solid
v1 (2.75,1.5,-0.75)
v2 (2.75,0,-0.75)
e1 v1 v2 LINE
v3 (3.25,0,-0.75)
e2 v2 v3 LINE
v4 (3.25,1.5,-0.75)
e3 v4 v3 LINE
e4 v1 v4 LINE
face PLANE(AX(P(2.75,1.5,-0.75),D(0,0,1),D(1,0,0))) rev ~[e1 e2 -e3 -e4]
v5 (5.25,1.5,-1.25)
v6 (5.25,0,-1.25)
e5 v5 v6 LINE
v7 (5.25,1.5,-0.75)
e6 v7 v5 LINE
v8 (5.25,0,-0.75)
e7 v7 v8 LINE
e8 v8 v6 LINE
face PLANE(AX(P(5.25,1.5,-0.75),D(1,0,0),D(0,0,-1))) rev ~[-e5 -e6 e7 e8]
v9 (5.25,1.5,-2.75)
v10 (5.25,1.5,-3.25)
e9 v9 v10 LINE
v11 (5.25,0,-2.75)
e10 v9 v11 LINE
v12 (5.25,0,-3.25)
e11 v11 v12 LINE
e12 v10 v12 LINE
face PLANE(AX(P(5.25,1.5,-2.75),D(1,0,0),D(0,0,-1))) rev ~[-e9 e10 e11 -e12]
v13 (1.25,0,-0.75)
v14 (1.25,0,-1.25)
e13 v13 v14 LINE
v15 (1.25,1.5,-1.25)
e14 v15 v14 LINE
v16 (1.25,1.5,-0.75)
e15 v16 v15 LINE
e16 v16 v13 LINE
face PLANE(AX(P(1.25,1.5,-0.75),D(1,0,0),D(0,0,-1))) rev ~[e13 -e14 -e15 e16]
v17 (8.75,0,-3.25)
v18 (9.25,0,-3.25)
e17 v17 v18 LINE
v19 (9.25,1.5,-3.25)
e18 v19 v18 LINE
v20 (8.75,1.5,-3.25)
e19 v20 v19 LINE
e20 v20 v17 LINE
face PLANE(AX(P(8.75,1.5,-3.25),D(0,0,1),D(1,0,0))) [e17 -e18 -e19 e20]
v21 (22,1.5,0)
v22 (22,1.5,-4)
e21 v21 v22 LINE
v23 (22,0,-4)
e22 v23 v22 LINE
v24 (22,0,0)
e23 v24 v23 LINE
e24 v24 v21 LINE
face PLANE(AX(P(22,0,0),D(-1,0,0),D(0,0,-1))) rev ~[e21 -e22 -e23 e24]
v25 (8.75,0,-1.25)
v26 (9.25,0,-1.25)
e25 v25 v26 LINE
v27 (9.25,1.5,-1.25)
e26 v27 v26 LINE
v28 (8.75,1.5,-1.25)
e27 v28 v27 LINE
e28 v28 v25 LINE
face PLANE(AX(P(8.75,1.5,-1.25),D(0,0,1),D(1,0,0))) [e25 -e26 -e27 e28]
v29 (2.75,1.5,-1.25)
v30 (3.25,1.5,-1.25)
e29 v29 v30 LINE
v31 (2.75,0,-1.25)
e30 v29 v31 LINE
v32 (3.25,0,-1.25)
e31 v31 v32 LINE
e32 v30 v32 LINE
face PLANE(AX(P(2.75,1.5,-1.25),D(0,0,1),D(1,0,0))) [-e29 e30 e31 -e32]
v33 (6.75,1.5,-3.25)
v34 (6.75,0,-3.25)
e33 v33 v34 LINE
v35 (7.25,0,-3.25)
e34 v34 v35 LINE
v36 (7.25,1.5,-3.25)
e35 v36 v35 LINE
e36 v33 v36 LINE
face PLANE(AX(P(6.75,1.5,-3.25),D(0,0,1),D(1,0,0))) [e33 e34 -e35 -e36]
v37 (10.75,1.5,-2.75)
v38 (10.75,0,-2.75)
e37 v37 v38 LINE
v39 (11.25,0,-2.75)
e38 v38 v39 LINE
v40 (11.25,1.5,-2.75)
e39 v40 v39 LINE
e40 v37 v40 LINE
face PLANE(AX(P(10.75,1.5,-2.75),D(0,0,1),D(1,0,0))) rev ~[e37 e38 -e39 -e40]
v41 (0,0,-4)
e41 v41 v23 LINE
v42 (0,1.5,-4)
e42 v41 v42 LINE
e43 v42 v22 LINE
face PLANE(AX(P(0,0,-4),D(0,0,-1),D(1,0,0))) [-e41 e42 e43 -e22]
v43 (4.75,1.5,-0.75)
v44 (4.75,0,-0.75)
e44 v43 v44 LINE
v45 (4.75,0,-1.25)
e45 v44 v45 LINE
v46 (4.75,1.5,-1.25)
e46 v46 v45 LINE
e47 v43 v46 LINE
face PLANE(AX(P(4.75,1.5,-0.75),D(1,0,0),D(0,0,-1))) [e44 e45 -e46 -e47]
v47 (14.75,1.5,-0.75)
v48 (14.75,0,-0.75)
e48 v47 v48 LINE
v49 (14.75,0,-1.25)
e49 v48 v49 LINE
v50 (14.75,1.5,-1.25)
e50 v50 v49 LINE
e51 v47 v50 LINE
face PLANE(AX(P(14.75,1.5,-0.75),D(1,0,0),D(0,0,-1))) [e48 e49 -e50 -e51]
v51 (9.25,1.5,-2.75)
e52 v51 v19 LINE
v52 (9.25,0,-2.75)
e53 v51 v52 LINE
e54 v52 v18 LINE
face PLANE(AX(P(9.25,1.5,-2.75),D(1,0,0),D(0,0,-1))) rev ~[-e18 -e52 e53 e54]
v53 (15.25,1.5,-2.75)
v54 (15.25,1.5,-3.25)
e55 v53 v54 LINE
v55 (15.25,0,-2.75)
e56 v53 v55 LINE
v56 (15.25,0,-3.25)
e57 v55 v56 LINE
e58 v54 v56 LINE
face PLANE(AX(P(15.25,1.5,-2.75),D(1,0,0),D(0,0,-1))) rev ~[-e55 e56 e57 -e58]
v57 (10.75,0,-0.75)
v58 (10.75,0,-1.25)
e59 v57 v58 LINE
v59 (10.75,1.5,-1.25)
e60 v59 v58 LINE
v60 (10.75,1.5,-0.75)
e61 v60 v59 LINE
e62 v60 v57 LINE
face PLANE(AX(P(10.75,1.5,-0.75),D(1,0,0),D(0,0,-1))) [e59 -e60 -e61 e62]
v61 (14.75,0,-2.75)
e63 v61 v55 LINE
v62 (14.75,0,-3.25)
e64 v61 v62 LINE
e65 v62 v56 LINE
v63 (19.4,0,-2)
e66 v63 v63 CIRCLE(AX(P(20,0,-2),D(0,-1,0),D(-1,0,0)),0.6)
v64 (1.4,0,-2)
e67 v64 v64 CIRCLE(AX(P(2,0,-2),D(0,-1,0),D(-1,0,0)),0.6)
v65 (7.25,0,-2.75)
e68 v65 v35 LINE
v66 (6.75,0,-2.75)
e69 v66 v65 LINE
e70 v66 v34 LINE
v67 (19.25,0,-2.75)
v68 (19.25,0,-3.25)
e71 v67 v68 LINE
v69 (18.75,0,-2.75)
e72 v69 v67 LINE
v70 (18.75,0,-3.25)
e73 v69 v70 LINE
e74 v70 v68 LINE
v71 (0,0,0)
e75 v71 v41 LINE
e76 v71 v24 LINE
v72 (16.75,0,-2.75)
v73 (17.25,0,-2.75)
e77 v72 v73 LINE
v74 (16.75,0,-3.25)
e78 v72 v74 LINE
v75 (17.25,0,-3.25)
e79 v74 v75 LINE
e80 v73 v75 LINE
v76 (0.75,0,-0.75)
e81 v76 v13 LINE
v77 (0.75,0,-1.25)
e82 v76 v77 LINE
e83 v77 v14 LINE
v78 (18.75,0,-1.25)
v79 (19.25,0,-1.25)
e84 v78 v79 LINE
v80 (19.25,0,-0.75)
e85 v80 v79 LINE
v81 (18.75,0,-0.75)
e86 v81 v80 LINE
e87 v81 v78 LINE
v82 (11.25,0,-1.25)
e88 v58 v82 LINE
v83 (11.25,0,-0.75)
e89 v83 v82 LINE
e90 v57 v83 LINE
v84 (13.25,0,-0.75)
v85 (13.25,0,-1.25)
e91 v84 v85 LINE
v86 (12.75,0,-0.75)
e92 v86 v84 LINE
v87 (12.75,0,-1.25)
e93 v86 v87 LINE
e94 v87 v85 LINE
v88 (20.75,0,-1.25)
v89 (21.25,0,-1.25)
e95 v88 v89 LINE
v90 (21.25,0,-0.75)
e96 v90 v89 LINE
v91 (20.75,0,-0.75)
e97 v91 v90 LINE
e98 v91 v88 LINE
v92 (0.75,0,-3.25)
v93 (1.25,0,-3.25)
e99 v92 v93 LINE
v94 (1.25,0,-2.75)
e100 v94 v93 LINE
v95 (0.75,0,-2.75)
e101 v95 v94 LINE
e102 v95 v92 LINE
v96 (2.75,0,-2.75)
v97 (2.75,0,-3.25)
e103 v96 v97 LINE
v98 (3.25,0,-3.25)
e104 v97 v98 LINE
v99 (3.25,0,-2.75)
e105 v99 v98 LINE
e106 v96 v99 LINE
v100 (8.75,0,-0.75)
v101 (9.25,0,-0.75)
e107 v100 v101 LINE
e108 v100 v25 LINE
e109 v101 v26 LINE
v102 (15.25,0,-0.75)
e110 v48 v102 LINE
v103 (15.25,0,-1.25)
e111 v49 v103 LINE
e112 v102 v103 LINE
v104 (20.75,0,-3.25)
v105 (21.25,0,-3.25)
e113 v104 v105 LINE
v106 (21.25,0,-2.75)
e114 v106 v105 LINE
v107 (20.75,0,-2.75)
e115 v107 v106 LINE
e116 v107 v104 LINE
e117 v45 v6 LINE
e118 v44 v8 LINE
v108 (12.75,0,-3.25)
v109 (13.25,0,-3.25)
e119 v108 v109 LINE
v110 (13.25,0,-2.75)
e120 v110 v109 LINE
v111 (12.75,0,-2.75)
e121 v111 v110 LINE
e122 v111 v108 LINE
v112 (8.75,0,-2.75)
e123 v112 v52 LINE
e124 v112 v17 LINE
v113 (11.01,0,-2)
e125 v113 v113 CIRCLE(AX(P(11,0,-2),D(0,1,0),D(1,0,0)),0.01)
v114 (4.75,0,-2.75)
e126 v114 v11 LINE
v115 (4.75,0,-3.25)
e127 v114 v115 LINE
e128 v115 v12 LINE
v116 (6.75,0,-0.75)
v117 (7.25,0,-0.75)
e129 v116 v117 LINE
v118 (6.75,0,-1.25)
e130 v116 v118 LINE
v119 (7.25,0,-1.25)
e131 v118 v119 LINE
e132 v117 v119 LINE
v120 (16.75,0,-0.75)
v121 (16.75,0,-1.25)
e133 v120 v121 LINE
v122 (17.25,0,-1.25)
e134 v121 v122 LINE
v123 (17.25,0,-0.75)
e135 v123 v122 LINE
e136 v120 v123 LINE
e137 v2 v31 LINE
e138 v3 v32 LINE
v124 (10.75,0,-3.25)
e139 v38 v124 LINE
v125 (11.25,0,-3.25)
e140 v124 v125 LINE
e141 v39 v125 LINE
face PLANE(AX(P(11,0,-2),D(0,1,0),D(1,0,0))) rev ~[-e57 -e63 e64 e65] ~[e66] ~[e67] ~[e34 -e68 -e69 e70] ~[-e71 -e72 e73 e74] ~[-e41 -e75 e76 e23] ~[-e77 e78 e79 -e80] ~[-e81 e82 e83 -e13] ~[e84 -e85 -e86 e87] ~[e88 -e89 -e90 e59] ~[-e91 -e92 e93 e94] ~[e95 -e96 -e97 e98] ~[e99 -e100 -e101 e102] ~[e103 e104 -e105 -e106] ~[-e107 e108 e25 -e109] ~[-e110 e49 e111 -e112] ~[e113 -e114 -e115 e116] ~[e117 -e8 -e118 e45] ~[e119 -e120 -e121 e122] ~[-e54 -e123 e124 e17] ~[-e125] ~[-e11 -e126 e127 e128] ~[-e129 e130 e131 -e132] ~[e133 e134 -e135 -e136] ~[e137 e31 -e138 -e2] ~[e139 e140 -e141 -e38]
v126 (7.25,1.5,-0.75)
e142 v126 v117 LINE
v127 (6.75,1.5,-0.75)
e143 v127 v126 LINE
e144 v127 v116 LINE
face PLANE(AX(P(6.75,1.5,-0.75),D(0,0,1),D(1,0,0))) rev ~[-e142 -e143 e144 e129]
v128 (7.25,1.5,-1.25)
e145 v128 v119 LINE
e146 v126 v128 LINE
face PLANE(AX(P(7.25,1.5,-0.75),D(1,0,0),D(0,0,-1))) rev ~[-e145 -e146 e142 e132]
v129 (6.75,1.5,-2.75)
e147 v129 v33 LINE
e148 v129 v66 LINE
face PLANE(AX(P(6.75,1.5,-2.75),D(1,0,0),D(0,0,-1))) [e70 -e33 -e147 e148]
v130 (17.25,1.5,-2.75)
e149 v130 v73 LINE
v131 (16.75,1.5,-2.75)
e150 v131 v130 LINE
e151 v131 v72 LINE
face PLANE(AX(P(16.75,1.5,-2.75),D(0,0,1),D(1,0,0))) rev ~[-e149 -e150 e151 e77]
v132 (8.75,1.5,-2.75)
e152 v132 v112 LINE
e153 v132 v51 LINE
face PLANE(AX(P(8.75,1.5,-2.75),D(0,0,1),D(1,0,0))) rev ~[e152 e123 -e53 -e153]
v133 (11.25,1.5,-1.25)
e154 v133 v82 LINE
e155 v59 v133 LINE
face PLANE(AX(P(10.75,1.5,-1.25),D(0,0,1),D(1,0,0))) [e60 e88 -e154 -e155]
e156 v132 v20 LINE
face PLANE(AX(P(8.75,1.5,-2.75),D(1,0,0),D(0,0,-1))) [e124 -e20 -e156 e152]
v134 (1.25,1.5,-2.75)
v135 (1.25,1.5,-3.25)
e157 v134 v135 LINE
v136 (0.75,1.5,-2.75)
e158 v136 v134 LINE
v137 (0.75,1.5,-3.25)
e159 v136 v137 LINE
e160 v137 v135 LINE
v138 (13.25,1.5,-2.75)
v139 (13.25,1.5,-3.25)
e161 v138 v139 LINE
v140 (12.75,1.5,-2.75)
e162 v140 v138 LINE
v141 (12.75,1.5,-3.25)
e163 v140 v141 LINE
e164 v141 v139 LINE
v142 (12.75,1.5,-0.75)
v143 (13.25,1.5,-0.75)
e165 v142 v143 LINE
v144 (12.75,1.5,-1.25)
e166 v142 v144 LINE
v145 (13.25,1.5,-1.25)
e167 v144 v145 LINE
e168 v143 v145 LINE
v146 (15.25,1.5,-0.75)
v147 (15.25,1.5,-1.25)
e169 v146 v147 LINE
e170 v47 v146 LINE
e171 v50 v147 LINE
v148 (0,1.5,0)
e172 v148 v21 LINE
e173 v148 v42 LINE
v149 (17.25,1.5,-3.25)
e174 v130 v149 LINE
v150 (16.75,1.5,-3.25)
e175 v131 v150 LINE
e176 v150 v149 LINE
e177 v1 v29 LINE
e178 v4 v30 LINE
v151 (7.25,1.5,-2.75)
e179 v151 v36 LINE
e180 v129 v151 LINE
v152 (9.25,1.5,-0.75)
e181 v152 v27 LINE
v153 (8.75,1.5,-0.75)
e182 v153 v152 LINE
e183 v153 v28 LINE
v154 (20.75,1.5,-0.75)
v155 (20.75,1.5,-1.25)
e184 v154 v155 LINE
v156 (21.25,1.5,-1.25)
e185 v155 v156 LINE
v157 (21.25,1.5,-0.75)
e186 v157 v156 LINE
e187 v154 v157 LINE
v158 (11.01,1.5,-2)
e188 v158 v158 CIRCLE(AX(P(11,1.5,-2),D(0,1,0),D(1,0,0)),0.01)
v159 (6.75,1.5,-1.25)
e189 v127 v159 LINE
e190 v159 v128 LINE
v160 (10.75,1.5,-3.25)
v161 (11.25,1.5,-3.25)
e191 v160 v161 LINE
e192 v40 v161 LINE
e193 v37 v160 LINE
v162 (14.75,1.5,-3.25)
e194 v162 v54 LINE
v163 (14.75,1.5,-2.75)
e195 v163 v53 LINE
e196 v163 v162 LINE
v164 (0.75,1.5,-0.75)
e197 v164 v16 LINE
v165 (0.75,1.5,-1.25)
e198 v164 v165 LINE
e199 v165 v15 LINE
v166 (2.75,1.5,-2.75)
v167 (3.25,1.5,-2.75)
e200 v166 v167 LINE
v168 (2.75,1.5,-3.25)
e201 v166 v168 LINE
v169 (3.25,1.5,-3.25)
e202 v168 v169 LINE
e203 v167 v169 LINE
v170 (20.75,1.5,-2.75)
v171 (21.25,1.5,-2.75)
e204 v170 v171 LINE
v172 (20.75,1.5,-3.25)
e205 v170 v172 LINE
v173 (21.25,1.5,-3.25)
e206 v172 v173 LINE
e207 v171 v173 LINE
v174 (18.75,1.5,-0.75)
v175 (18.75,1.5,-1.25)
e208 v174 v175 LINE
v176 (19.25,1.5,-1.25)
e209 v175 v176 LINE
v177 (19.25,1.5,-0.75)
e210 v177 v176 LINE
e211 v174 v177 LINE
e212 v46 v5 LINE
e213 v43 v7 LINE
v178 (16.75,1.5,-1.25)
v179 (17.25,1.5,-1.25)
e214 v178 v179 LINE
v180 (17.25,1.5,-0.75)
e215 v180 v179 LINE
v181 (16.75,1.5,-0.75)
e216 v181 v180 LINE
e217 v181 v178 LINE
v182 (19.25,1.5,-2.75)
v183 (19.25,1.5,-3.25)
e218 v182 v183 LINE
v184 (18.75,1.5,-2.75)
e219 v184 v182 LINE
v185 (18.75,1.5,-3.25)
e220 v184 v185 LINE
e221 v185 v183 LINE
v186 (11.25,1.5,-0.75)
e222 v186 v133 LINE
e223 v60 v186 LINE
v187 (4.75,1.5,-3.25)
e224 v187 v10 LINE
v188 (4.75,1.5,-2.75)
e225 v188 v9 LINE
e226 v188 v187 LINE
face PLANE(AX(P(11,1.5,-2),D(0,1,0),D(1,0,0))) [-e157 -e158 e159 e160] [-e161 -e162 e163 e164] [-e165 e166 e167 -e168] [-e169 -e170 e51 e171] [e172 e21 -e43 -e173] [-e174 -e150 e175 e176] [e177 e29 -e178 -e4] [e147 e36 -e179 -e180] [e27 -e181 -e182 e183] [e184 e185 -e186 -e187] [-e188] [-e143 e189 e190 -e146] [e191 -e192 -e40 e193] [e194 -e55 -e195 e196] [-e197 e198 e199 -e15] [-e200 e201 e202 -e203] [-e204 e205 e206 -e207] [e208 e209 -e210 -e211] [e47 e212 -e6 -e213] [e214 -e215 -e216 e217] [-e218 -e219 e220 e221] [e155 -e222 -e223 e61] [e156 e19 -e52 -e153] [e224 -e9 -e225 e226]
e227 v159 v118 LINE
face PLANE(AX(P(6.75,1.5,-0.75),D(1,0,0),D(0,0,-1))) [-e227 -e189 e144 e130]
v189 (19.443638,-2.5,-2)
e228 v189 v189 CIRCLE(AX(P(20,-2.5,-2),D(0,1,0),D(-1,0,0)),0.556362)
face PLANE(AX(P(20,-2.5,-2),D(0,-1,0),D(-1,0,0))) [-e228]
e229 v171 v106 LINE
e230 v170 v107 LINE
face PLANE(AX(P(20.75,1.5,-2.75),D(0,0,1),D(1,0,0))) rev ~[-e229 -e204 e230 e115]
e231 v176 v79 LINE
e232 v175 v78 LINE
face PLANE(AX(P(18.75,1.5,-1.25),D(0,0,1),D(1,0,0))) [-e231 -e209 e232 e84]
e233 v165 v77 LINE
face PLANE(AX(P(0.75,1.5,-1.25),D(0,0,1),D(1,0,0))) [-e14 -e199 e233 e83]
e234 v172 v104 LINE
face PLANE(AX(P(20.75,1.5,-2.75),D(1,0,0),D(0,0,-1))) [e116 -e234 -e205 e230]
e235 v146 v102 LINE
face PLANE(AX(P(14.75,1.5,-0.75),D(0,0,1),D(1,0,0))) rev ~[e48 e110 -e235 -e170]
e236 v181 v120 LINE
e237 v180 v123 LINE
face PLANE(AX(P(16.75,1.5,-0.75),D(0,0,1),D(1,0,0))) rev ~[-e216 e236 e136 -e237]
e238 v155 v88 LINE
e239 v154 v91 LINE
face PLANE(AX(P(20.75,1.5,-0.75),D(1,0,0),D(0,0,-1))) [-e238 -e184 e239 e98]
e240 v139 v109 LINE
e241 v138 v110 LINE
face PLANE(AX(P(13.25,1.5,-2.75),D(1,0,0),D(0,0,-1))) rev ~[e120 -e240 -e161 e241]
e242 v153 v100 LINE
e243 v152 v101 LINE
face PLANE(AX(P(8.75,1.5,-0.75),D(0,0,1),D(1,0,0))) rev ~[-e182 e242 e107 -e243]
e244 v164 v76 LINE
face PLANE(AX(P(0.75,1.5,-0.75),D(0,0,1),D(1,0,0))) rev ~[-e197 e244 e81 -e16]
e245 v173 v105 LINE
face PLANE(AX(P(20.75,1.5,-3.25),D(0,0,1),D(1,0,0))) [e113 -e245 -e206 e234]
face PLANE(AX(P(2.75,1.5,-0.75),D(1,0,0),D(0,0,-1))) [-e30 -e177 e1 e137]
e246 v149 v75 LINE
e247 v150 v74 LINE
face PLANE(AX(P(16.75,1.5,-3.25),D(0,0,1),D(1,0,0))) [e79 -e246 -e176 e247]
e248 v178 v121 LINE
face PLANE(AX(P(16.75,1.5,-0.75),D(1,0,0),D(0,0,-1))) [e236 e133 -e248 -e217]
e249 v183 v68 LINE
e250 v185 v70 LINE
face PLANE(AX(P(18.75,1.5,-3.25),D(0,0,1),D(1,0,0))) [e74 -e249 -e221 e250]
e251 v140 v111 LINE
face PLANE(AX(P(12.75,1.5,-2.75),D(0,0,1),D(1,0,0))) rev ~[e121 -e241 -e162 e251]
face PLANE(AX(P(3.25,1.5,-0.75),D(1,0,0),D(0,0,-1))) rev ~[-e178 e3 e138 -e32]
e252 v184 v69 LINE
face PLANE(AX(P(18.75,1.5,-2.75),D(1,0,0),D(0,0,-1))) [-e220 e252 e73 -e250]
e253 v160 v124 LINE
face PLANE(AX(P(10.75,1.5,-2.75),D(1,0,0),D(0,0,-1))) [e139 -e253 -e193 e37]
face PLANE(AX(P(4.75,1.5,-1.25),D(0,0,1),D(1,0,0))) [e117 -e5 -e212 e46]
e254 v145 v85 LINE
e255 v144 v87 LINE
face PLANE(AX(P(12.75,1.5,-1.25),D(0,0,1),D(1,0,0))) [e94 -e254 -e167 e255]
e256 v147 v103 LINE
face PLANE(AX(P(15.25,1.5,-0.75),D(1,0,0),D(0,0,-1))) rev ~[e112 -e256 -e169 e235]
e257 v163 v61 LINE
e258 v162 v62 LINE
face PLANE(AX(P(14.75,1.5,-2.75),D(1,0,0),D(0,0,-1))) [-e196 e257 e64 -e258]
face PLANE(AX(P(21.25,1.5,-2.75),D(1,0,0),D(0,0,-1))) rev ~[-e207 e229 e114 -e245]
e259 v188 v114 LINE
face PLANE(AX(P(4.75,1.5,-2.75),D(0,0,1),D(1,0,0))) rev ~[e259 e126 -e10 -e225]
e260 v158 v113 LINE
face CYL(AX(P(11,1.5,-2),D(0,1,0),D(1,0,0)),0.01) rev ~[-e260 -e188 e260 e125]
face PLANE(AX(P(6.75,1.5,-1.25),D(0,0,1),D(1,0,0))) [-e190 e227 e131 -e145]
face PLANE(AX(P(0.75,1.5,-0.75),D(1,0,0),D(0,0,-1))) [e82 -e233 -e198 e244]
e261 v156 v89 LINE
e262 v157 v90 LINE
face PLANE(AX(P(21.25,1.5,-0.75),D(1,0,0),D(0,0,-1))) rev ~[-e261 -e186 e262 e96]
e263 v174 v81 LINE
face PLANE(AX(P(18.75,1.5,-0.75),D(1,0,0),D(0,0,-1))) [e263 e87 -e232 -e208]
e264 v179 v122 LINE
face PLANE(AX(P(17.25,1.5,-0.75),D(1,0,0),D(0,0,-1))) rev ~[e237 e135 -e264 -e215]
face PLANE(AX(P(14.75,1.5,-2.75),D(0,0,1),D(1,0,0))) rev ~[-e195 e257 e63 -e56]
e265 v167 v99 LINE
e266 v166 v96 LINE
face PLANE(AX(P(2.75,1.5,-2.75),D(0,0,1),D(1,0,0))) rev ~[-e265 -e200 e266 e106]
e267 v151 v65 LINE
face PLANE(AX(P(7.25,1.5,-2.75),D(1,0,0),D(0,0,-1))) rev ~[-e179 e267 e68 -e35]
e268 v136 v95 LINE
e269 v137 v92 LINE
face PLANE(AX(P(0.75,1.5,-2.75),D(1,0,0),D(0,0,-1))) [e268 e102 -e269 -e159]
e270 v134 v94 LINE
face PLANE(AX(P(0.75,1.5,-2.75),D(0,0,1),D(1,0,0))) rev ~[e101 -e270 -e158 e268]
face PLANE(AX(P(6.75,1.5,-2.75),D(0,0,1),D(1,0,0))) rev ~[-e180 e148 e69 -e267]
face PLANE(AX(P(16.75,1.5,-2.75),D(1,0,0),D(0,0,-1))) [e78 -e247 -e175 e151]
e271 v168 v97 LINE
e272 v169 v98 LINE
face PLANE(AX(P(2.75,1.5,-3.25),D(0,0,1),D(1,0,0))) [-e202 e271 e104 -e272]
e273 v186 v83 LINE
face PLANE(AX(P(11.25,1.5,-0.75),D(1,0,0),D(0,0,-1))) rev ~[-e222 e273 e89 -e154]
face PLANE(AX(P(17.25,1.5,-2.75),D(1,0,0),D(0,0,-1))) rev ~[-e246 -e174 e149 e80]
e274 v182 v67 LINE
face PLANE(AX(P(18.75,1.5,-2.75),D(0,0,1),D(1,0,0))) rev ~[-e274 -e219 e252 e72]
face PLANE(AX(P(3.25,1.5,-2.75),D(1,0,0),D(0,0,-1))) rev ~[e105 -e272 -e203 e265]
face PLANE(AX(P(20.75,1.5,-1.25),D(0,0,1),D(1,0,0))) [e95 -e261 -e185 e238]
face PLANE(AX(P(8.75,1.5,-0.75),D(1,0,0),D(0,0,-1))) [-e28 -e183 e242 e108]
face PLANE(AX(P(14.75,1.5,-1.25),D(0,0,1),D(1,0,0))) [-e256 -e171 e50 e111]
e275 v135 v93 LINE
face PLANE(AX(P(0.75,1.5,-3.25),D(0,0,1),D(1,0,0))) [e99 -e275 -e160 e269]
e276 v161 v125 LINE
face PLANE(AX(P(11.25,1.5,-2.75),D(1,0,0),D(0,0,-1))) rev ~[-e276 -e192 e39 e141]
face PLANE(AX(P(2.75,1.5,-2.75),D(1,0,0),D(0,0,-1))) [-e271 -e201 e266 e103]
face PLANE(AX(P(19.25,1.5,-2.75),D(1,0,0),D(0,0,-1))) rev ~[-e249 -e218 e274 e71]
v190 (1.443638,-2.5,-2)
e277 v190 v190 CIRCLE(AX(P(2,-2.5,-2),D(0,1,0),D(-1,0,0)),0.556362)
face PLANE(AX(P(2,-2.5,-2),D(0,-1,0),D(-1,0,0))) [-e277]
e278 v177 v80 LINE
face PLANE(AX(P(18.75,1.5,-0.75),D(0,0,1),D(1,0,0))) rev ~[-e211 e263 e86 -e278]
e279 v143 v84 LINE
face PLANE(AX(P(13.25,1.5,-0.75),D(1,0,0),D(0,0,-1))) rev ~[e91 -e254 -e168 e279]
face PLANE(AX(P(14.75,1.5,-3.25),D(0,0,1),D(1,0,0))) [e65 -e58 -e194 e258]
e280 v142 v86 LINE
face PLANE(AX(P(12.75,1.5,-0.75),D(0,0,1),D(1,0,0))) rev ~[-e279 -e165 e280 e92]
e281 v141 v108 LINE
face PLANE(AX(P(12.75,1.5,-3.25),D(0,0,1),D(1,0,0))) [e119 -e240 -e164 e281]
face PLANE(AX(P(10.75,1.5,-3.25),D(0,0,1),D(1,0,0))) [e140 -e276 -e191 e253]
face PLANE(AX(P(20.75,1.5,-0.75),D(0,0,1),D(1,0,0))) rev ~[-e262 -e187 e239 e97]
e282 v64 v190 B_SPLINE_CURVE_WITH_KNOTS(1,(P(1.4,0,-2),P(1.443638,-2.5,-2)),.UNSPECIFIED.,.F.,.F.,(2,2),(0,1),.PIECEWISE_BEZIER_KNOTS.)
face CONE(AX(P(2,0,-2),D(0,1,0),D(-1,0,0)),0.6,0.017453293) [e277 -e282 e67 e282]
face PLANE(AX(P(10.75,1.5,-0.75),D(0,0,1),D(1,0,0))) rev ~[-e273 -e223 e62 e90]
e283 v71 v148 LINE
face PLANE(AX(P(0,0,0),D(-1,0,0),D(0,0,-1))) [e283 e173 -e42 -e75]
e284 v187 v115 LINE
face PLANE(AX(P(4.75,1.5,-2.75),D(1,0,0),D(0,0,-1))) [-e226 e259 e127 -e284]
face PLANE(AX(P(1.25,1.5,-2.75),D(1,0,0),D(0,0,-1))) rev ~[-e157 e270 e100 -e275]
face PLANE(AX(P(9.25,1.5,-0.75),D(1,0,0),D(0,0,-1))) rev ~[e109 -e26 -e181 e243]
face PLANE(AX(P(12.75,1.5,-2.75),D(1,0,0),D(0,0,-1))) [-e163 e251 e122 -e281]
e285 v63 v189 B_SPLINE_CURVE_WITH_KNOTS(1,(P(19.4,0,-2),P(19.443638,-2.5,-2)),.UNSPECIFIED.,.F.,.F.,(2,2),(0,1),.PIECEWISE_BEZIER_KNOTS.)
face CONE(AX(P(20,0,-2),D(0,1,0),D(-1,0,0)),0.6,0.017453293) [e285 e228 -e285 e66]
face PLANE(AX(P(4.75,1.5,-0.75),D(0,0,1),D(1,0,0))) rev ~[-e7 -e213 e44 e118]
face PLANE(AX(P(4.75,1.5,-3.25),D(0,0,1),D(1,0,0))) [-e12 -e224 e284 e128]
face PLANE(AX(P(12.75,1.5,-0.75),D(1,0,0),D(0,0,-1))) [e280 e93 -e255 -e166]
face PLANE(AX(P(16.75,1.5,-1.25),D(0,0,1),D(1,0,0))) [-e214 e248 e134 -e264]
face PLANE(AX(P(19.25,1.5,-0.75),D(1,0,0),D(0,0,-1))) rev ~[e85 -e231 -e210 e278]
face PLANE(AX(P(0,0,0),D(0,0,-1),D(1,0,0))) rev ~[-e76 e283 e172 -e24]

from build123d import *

# Parameters (mm, degrees)
SKETCH1_W                     = 22
SKETCH1_H                     = 4
BOSS_EXTRUDE1_DEPTH           = 1.5
SKETCH2_W                     = 0.5
SKETCH2_H                     = 0.5
CUT_EXTRUDE1_DEPTH            = 2
SKETCH3_R                     = 0.01
CUT_EXTRUDE2_DEPTH            = 1.5
SKETCH4_R                     = 0.6
BOSS_EXTRUDE2_DEPTH           = 2.5
BOSS_EXTRUDE2_DRAFT           = 1
BOSS_EXTRUDE2_PROFILE_2_DEPTH = 2.5
BOSS_EXTRUDE2_PROFILE_2_DRAFT = 1


with BuildPart() as part:
    # Sketch1 → Boss-Extrude1 (new body)
    with BuildSketch(Plane(origin=(0, 0, 0), x_dir=(1, 0, 0), z_dir=(0, 1, 0))):
        with Locations((11, 2)):
            Rectangle(SKETCH1_W, SKETCH1_H)
    extrude(amount=BOSS_EXTRUDE1_DEPTH)

    # Sketch2 → Cut-Extrude1 (cut)
    with BuildSketch(Plane(origin=(0, 1.5, 0), x_dir=(1, 0, 0), z_dir=(0, 1, 0))):
        with Locations((3, 3)):
            Rectangle(SKETCH2_W, SKETCH2_H)
        with Locations((1, 3)):
            Rectangle(SKETCH2_W, SKETCH2_H)
        with Locations((5, 3)):
            Rectangle(SKETCH2_W, SKETCH2_H)
        with Locations((7, 3)):
            Rectangle(SKETCH2_W, SKETCH2_H)
        with Locations((9, 3)):
            Rectangle(SKETCH2_W, SKETCH2_H)
        with Locations((11, 3)):
            Rectangle(SKETCH2_W, SKETCH2_H)
        with Locations((13, 3)):
            Rectangle(SKETCH2_W, SKETCH2_H)
        with Locations((15, 3)):
            Rectangle(SKETCH2_W, SKETCH2_H)
        with Locations((17, 3)):
            Rectangle(SKETCH2_W, SKETCH2_H)
        with Locations((19, 3)):
            Rectangle(SKETCH2_W, SKETCH2_H)
        with Locations((21, 3)):
            Rectangle(SKETCH2_W, SKETCH2_H)
        with Locations((1, 1)):
            Rectangle(SKETCH2_W, SKETCH2_H)
        with Locations((3, 1)):
            Rectangle(SKETCH2_W, SKETCH2_H)
        with Locations((5, 1)):
            Rectangle(SKETCH2_W, SKETCH2_H)
        with Locations((7, 1)):
            Rectangle(SKETCH2_W, SKETCH2_H)
        with Locations((9, 1)):
            Rectangle(SKETCH2_W, SKETCH2_H)
        with Locations((11, 1)):
            Rectangle(SKETCH2_W, SKETCH2_H)
        with Locations((13, 1)):
            Rectangle(SKETCH2_W, SKETCH2_H)
        with Locations((15, 1)):
            Rectangle(SKETCH2_W, SKETCH2_H)
        with Locations((17, 1)):
            Rectangle(SKETCH2_W, SKETCH2_H)
        with Locations((19, 1)):
            Rectangle(SKETCH2_W, SKETCH2_H)
        with Locations((21, 1)):
            Rectangle(SKETCH2_W, SKETCH2_H)
    extrude(amount=-CUT_EXTRUDE1_DEPTH, mode=Mode.SUBTRACT)

    # Sketch3 → Cut-Extrude2 (cut)
    with BuildSketch(Plane(origin=(0, 1.5, 0), x_dir=(1, 0, 0), z_dir=(0, 1, 0))):
        with Locations((11, 2)):
            Circle(SKETCH3_R)
    extrude(amount=-CUT_EXTRUDE2_DEPTH, mode=Mode.SUBTRACT)


with BuildPart() as boss_extrude2_tool:
    # Sketch4 → Boss-Extrude2 (with draft: the straight prism first)
    with BuildSketch(Plane(origin=(0, 0, 0), x_dir=(-1, 0, 0), z_dir=(0, -1, 0))):
        with Locations((-20, 2)):
            Circle(SKETCH4_R)
    extrude(amount=BOSS_EXTRUDE2_DEPTH)
    # Boss-Extrude2: the draft: its side faces are tilted about the plane it starts from
    boss_extrude2_sides = [boss_extrude2_tool.faces().sort_by_distance(p)[0] for p in [
        (20.6, -1.25, -2),
    ]]
    draft(boss_extrude2_sides, Plane(origin=(0, 0, 0), x_dir=(-1, 0, 0), z_dir=(0, -1, 0)), BOSS_EXTRUDE2_DRAFT)


with BuildPart() as part_1:
    add(part.part)

    # Boss-Extrude2: add boss_extrude2_tool
    add(boss_extrude2_tool.part)


with BuildPart() as boss_extrude2_profile_2_tool:
    # Sketch4 → Boss-Extrude2 profile 2 (with draft: the straight prism first)
    with BuildSketch(Plane(origin=(0, 0, 0), x_dir=(-1, 0, 0), z_dir=(0, -1, 0))):
        with Locations((-2, 2)):
            Circle(SKETCH4_R)
    extrude(amount=BOSS_EXTRUDE2_PROFILE_2_DEPTH)
    # Boss-Extrude2 profile 2: the draft: its side faces are tilted about the plane it starts from
    boss_extrude2_profile_2_sides = [boss_extrude2_profile_2_tool.faces().sort_by_distance(p)[0] for p in [
        (2.6, -1.25, -2),
    ]]
    draft(boss_extrude2_profile_2_sides, Plane(origin=(0, 0, 0), x_dir=(-1, 0, 0), z_dir=(0, -1, 0)), BOSS_EXTRUDE2_PROFILE_2_DRAFT)


with BuildPart() as part_2:
    add(part_1.part)

    # Boss-Extrude2 profile 2: add boss_extrude2_profile_2_tool
    add(boss_extrude2_profile_2_tool.part)


solid = part_2.part
